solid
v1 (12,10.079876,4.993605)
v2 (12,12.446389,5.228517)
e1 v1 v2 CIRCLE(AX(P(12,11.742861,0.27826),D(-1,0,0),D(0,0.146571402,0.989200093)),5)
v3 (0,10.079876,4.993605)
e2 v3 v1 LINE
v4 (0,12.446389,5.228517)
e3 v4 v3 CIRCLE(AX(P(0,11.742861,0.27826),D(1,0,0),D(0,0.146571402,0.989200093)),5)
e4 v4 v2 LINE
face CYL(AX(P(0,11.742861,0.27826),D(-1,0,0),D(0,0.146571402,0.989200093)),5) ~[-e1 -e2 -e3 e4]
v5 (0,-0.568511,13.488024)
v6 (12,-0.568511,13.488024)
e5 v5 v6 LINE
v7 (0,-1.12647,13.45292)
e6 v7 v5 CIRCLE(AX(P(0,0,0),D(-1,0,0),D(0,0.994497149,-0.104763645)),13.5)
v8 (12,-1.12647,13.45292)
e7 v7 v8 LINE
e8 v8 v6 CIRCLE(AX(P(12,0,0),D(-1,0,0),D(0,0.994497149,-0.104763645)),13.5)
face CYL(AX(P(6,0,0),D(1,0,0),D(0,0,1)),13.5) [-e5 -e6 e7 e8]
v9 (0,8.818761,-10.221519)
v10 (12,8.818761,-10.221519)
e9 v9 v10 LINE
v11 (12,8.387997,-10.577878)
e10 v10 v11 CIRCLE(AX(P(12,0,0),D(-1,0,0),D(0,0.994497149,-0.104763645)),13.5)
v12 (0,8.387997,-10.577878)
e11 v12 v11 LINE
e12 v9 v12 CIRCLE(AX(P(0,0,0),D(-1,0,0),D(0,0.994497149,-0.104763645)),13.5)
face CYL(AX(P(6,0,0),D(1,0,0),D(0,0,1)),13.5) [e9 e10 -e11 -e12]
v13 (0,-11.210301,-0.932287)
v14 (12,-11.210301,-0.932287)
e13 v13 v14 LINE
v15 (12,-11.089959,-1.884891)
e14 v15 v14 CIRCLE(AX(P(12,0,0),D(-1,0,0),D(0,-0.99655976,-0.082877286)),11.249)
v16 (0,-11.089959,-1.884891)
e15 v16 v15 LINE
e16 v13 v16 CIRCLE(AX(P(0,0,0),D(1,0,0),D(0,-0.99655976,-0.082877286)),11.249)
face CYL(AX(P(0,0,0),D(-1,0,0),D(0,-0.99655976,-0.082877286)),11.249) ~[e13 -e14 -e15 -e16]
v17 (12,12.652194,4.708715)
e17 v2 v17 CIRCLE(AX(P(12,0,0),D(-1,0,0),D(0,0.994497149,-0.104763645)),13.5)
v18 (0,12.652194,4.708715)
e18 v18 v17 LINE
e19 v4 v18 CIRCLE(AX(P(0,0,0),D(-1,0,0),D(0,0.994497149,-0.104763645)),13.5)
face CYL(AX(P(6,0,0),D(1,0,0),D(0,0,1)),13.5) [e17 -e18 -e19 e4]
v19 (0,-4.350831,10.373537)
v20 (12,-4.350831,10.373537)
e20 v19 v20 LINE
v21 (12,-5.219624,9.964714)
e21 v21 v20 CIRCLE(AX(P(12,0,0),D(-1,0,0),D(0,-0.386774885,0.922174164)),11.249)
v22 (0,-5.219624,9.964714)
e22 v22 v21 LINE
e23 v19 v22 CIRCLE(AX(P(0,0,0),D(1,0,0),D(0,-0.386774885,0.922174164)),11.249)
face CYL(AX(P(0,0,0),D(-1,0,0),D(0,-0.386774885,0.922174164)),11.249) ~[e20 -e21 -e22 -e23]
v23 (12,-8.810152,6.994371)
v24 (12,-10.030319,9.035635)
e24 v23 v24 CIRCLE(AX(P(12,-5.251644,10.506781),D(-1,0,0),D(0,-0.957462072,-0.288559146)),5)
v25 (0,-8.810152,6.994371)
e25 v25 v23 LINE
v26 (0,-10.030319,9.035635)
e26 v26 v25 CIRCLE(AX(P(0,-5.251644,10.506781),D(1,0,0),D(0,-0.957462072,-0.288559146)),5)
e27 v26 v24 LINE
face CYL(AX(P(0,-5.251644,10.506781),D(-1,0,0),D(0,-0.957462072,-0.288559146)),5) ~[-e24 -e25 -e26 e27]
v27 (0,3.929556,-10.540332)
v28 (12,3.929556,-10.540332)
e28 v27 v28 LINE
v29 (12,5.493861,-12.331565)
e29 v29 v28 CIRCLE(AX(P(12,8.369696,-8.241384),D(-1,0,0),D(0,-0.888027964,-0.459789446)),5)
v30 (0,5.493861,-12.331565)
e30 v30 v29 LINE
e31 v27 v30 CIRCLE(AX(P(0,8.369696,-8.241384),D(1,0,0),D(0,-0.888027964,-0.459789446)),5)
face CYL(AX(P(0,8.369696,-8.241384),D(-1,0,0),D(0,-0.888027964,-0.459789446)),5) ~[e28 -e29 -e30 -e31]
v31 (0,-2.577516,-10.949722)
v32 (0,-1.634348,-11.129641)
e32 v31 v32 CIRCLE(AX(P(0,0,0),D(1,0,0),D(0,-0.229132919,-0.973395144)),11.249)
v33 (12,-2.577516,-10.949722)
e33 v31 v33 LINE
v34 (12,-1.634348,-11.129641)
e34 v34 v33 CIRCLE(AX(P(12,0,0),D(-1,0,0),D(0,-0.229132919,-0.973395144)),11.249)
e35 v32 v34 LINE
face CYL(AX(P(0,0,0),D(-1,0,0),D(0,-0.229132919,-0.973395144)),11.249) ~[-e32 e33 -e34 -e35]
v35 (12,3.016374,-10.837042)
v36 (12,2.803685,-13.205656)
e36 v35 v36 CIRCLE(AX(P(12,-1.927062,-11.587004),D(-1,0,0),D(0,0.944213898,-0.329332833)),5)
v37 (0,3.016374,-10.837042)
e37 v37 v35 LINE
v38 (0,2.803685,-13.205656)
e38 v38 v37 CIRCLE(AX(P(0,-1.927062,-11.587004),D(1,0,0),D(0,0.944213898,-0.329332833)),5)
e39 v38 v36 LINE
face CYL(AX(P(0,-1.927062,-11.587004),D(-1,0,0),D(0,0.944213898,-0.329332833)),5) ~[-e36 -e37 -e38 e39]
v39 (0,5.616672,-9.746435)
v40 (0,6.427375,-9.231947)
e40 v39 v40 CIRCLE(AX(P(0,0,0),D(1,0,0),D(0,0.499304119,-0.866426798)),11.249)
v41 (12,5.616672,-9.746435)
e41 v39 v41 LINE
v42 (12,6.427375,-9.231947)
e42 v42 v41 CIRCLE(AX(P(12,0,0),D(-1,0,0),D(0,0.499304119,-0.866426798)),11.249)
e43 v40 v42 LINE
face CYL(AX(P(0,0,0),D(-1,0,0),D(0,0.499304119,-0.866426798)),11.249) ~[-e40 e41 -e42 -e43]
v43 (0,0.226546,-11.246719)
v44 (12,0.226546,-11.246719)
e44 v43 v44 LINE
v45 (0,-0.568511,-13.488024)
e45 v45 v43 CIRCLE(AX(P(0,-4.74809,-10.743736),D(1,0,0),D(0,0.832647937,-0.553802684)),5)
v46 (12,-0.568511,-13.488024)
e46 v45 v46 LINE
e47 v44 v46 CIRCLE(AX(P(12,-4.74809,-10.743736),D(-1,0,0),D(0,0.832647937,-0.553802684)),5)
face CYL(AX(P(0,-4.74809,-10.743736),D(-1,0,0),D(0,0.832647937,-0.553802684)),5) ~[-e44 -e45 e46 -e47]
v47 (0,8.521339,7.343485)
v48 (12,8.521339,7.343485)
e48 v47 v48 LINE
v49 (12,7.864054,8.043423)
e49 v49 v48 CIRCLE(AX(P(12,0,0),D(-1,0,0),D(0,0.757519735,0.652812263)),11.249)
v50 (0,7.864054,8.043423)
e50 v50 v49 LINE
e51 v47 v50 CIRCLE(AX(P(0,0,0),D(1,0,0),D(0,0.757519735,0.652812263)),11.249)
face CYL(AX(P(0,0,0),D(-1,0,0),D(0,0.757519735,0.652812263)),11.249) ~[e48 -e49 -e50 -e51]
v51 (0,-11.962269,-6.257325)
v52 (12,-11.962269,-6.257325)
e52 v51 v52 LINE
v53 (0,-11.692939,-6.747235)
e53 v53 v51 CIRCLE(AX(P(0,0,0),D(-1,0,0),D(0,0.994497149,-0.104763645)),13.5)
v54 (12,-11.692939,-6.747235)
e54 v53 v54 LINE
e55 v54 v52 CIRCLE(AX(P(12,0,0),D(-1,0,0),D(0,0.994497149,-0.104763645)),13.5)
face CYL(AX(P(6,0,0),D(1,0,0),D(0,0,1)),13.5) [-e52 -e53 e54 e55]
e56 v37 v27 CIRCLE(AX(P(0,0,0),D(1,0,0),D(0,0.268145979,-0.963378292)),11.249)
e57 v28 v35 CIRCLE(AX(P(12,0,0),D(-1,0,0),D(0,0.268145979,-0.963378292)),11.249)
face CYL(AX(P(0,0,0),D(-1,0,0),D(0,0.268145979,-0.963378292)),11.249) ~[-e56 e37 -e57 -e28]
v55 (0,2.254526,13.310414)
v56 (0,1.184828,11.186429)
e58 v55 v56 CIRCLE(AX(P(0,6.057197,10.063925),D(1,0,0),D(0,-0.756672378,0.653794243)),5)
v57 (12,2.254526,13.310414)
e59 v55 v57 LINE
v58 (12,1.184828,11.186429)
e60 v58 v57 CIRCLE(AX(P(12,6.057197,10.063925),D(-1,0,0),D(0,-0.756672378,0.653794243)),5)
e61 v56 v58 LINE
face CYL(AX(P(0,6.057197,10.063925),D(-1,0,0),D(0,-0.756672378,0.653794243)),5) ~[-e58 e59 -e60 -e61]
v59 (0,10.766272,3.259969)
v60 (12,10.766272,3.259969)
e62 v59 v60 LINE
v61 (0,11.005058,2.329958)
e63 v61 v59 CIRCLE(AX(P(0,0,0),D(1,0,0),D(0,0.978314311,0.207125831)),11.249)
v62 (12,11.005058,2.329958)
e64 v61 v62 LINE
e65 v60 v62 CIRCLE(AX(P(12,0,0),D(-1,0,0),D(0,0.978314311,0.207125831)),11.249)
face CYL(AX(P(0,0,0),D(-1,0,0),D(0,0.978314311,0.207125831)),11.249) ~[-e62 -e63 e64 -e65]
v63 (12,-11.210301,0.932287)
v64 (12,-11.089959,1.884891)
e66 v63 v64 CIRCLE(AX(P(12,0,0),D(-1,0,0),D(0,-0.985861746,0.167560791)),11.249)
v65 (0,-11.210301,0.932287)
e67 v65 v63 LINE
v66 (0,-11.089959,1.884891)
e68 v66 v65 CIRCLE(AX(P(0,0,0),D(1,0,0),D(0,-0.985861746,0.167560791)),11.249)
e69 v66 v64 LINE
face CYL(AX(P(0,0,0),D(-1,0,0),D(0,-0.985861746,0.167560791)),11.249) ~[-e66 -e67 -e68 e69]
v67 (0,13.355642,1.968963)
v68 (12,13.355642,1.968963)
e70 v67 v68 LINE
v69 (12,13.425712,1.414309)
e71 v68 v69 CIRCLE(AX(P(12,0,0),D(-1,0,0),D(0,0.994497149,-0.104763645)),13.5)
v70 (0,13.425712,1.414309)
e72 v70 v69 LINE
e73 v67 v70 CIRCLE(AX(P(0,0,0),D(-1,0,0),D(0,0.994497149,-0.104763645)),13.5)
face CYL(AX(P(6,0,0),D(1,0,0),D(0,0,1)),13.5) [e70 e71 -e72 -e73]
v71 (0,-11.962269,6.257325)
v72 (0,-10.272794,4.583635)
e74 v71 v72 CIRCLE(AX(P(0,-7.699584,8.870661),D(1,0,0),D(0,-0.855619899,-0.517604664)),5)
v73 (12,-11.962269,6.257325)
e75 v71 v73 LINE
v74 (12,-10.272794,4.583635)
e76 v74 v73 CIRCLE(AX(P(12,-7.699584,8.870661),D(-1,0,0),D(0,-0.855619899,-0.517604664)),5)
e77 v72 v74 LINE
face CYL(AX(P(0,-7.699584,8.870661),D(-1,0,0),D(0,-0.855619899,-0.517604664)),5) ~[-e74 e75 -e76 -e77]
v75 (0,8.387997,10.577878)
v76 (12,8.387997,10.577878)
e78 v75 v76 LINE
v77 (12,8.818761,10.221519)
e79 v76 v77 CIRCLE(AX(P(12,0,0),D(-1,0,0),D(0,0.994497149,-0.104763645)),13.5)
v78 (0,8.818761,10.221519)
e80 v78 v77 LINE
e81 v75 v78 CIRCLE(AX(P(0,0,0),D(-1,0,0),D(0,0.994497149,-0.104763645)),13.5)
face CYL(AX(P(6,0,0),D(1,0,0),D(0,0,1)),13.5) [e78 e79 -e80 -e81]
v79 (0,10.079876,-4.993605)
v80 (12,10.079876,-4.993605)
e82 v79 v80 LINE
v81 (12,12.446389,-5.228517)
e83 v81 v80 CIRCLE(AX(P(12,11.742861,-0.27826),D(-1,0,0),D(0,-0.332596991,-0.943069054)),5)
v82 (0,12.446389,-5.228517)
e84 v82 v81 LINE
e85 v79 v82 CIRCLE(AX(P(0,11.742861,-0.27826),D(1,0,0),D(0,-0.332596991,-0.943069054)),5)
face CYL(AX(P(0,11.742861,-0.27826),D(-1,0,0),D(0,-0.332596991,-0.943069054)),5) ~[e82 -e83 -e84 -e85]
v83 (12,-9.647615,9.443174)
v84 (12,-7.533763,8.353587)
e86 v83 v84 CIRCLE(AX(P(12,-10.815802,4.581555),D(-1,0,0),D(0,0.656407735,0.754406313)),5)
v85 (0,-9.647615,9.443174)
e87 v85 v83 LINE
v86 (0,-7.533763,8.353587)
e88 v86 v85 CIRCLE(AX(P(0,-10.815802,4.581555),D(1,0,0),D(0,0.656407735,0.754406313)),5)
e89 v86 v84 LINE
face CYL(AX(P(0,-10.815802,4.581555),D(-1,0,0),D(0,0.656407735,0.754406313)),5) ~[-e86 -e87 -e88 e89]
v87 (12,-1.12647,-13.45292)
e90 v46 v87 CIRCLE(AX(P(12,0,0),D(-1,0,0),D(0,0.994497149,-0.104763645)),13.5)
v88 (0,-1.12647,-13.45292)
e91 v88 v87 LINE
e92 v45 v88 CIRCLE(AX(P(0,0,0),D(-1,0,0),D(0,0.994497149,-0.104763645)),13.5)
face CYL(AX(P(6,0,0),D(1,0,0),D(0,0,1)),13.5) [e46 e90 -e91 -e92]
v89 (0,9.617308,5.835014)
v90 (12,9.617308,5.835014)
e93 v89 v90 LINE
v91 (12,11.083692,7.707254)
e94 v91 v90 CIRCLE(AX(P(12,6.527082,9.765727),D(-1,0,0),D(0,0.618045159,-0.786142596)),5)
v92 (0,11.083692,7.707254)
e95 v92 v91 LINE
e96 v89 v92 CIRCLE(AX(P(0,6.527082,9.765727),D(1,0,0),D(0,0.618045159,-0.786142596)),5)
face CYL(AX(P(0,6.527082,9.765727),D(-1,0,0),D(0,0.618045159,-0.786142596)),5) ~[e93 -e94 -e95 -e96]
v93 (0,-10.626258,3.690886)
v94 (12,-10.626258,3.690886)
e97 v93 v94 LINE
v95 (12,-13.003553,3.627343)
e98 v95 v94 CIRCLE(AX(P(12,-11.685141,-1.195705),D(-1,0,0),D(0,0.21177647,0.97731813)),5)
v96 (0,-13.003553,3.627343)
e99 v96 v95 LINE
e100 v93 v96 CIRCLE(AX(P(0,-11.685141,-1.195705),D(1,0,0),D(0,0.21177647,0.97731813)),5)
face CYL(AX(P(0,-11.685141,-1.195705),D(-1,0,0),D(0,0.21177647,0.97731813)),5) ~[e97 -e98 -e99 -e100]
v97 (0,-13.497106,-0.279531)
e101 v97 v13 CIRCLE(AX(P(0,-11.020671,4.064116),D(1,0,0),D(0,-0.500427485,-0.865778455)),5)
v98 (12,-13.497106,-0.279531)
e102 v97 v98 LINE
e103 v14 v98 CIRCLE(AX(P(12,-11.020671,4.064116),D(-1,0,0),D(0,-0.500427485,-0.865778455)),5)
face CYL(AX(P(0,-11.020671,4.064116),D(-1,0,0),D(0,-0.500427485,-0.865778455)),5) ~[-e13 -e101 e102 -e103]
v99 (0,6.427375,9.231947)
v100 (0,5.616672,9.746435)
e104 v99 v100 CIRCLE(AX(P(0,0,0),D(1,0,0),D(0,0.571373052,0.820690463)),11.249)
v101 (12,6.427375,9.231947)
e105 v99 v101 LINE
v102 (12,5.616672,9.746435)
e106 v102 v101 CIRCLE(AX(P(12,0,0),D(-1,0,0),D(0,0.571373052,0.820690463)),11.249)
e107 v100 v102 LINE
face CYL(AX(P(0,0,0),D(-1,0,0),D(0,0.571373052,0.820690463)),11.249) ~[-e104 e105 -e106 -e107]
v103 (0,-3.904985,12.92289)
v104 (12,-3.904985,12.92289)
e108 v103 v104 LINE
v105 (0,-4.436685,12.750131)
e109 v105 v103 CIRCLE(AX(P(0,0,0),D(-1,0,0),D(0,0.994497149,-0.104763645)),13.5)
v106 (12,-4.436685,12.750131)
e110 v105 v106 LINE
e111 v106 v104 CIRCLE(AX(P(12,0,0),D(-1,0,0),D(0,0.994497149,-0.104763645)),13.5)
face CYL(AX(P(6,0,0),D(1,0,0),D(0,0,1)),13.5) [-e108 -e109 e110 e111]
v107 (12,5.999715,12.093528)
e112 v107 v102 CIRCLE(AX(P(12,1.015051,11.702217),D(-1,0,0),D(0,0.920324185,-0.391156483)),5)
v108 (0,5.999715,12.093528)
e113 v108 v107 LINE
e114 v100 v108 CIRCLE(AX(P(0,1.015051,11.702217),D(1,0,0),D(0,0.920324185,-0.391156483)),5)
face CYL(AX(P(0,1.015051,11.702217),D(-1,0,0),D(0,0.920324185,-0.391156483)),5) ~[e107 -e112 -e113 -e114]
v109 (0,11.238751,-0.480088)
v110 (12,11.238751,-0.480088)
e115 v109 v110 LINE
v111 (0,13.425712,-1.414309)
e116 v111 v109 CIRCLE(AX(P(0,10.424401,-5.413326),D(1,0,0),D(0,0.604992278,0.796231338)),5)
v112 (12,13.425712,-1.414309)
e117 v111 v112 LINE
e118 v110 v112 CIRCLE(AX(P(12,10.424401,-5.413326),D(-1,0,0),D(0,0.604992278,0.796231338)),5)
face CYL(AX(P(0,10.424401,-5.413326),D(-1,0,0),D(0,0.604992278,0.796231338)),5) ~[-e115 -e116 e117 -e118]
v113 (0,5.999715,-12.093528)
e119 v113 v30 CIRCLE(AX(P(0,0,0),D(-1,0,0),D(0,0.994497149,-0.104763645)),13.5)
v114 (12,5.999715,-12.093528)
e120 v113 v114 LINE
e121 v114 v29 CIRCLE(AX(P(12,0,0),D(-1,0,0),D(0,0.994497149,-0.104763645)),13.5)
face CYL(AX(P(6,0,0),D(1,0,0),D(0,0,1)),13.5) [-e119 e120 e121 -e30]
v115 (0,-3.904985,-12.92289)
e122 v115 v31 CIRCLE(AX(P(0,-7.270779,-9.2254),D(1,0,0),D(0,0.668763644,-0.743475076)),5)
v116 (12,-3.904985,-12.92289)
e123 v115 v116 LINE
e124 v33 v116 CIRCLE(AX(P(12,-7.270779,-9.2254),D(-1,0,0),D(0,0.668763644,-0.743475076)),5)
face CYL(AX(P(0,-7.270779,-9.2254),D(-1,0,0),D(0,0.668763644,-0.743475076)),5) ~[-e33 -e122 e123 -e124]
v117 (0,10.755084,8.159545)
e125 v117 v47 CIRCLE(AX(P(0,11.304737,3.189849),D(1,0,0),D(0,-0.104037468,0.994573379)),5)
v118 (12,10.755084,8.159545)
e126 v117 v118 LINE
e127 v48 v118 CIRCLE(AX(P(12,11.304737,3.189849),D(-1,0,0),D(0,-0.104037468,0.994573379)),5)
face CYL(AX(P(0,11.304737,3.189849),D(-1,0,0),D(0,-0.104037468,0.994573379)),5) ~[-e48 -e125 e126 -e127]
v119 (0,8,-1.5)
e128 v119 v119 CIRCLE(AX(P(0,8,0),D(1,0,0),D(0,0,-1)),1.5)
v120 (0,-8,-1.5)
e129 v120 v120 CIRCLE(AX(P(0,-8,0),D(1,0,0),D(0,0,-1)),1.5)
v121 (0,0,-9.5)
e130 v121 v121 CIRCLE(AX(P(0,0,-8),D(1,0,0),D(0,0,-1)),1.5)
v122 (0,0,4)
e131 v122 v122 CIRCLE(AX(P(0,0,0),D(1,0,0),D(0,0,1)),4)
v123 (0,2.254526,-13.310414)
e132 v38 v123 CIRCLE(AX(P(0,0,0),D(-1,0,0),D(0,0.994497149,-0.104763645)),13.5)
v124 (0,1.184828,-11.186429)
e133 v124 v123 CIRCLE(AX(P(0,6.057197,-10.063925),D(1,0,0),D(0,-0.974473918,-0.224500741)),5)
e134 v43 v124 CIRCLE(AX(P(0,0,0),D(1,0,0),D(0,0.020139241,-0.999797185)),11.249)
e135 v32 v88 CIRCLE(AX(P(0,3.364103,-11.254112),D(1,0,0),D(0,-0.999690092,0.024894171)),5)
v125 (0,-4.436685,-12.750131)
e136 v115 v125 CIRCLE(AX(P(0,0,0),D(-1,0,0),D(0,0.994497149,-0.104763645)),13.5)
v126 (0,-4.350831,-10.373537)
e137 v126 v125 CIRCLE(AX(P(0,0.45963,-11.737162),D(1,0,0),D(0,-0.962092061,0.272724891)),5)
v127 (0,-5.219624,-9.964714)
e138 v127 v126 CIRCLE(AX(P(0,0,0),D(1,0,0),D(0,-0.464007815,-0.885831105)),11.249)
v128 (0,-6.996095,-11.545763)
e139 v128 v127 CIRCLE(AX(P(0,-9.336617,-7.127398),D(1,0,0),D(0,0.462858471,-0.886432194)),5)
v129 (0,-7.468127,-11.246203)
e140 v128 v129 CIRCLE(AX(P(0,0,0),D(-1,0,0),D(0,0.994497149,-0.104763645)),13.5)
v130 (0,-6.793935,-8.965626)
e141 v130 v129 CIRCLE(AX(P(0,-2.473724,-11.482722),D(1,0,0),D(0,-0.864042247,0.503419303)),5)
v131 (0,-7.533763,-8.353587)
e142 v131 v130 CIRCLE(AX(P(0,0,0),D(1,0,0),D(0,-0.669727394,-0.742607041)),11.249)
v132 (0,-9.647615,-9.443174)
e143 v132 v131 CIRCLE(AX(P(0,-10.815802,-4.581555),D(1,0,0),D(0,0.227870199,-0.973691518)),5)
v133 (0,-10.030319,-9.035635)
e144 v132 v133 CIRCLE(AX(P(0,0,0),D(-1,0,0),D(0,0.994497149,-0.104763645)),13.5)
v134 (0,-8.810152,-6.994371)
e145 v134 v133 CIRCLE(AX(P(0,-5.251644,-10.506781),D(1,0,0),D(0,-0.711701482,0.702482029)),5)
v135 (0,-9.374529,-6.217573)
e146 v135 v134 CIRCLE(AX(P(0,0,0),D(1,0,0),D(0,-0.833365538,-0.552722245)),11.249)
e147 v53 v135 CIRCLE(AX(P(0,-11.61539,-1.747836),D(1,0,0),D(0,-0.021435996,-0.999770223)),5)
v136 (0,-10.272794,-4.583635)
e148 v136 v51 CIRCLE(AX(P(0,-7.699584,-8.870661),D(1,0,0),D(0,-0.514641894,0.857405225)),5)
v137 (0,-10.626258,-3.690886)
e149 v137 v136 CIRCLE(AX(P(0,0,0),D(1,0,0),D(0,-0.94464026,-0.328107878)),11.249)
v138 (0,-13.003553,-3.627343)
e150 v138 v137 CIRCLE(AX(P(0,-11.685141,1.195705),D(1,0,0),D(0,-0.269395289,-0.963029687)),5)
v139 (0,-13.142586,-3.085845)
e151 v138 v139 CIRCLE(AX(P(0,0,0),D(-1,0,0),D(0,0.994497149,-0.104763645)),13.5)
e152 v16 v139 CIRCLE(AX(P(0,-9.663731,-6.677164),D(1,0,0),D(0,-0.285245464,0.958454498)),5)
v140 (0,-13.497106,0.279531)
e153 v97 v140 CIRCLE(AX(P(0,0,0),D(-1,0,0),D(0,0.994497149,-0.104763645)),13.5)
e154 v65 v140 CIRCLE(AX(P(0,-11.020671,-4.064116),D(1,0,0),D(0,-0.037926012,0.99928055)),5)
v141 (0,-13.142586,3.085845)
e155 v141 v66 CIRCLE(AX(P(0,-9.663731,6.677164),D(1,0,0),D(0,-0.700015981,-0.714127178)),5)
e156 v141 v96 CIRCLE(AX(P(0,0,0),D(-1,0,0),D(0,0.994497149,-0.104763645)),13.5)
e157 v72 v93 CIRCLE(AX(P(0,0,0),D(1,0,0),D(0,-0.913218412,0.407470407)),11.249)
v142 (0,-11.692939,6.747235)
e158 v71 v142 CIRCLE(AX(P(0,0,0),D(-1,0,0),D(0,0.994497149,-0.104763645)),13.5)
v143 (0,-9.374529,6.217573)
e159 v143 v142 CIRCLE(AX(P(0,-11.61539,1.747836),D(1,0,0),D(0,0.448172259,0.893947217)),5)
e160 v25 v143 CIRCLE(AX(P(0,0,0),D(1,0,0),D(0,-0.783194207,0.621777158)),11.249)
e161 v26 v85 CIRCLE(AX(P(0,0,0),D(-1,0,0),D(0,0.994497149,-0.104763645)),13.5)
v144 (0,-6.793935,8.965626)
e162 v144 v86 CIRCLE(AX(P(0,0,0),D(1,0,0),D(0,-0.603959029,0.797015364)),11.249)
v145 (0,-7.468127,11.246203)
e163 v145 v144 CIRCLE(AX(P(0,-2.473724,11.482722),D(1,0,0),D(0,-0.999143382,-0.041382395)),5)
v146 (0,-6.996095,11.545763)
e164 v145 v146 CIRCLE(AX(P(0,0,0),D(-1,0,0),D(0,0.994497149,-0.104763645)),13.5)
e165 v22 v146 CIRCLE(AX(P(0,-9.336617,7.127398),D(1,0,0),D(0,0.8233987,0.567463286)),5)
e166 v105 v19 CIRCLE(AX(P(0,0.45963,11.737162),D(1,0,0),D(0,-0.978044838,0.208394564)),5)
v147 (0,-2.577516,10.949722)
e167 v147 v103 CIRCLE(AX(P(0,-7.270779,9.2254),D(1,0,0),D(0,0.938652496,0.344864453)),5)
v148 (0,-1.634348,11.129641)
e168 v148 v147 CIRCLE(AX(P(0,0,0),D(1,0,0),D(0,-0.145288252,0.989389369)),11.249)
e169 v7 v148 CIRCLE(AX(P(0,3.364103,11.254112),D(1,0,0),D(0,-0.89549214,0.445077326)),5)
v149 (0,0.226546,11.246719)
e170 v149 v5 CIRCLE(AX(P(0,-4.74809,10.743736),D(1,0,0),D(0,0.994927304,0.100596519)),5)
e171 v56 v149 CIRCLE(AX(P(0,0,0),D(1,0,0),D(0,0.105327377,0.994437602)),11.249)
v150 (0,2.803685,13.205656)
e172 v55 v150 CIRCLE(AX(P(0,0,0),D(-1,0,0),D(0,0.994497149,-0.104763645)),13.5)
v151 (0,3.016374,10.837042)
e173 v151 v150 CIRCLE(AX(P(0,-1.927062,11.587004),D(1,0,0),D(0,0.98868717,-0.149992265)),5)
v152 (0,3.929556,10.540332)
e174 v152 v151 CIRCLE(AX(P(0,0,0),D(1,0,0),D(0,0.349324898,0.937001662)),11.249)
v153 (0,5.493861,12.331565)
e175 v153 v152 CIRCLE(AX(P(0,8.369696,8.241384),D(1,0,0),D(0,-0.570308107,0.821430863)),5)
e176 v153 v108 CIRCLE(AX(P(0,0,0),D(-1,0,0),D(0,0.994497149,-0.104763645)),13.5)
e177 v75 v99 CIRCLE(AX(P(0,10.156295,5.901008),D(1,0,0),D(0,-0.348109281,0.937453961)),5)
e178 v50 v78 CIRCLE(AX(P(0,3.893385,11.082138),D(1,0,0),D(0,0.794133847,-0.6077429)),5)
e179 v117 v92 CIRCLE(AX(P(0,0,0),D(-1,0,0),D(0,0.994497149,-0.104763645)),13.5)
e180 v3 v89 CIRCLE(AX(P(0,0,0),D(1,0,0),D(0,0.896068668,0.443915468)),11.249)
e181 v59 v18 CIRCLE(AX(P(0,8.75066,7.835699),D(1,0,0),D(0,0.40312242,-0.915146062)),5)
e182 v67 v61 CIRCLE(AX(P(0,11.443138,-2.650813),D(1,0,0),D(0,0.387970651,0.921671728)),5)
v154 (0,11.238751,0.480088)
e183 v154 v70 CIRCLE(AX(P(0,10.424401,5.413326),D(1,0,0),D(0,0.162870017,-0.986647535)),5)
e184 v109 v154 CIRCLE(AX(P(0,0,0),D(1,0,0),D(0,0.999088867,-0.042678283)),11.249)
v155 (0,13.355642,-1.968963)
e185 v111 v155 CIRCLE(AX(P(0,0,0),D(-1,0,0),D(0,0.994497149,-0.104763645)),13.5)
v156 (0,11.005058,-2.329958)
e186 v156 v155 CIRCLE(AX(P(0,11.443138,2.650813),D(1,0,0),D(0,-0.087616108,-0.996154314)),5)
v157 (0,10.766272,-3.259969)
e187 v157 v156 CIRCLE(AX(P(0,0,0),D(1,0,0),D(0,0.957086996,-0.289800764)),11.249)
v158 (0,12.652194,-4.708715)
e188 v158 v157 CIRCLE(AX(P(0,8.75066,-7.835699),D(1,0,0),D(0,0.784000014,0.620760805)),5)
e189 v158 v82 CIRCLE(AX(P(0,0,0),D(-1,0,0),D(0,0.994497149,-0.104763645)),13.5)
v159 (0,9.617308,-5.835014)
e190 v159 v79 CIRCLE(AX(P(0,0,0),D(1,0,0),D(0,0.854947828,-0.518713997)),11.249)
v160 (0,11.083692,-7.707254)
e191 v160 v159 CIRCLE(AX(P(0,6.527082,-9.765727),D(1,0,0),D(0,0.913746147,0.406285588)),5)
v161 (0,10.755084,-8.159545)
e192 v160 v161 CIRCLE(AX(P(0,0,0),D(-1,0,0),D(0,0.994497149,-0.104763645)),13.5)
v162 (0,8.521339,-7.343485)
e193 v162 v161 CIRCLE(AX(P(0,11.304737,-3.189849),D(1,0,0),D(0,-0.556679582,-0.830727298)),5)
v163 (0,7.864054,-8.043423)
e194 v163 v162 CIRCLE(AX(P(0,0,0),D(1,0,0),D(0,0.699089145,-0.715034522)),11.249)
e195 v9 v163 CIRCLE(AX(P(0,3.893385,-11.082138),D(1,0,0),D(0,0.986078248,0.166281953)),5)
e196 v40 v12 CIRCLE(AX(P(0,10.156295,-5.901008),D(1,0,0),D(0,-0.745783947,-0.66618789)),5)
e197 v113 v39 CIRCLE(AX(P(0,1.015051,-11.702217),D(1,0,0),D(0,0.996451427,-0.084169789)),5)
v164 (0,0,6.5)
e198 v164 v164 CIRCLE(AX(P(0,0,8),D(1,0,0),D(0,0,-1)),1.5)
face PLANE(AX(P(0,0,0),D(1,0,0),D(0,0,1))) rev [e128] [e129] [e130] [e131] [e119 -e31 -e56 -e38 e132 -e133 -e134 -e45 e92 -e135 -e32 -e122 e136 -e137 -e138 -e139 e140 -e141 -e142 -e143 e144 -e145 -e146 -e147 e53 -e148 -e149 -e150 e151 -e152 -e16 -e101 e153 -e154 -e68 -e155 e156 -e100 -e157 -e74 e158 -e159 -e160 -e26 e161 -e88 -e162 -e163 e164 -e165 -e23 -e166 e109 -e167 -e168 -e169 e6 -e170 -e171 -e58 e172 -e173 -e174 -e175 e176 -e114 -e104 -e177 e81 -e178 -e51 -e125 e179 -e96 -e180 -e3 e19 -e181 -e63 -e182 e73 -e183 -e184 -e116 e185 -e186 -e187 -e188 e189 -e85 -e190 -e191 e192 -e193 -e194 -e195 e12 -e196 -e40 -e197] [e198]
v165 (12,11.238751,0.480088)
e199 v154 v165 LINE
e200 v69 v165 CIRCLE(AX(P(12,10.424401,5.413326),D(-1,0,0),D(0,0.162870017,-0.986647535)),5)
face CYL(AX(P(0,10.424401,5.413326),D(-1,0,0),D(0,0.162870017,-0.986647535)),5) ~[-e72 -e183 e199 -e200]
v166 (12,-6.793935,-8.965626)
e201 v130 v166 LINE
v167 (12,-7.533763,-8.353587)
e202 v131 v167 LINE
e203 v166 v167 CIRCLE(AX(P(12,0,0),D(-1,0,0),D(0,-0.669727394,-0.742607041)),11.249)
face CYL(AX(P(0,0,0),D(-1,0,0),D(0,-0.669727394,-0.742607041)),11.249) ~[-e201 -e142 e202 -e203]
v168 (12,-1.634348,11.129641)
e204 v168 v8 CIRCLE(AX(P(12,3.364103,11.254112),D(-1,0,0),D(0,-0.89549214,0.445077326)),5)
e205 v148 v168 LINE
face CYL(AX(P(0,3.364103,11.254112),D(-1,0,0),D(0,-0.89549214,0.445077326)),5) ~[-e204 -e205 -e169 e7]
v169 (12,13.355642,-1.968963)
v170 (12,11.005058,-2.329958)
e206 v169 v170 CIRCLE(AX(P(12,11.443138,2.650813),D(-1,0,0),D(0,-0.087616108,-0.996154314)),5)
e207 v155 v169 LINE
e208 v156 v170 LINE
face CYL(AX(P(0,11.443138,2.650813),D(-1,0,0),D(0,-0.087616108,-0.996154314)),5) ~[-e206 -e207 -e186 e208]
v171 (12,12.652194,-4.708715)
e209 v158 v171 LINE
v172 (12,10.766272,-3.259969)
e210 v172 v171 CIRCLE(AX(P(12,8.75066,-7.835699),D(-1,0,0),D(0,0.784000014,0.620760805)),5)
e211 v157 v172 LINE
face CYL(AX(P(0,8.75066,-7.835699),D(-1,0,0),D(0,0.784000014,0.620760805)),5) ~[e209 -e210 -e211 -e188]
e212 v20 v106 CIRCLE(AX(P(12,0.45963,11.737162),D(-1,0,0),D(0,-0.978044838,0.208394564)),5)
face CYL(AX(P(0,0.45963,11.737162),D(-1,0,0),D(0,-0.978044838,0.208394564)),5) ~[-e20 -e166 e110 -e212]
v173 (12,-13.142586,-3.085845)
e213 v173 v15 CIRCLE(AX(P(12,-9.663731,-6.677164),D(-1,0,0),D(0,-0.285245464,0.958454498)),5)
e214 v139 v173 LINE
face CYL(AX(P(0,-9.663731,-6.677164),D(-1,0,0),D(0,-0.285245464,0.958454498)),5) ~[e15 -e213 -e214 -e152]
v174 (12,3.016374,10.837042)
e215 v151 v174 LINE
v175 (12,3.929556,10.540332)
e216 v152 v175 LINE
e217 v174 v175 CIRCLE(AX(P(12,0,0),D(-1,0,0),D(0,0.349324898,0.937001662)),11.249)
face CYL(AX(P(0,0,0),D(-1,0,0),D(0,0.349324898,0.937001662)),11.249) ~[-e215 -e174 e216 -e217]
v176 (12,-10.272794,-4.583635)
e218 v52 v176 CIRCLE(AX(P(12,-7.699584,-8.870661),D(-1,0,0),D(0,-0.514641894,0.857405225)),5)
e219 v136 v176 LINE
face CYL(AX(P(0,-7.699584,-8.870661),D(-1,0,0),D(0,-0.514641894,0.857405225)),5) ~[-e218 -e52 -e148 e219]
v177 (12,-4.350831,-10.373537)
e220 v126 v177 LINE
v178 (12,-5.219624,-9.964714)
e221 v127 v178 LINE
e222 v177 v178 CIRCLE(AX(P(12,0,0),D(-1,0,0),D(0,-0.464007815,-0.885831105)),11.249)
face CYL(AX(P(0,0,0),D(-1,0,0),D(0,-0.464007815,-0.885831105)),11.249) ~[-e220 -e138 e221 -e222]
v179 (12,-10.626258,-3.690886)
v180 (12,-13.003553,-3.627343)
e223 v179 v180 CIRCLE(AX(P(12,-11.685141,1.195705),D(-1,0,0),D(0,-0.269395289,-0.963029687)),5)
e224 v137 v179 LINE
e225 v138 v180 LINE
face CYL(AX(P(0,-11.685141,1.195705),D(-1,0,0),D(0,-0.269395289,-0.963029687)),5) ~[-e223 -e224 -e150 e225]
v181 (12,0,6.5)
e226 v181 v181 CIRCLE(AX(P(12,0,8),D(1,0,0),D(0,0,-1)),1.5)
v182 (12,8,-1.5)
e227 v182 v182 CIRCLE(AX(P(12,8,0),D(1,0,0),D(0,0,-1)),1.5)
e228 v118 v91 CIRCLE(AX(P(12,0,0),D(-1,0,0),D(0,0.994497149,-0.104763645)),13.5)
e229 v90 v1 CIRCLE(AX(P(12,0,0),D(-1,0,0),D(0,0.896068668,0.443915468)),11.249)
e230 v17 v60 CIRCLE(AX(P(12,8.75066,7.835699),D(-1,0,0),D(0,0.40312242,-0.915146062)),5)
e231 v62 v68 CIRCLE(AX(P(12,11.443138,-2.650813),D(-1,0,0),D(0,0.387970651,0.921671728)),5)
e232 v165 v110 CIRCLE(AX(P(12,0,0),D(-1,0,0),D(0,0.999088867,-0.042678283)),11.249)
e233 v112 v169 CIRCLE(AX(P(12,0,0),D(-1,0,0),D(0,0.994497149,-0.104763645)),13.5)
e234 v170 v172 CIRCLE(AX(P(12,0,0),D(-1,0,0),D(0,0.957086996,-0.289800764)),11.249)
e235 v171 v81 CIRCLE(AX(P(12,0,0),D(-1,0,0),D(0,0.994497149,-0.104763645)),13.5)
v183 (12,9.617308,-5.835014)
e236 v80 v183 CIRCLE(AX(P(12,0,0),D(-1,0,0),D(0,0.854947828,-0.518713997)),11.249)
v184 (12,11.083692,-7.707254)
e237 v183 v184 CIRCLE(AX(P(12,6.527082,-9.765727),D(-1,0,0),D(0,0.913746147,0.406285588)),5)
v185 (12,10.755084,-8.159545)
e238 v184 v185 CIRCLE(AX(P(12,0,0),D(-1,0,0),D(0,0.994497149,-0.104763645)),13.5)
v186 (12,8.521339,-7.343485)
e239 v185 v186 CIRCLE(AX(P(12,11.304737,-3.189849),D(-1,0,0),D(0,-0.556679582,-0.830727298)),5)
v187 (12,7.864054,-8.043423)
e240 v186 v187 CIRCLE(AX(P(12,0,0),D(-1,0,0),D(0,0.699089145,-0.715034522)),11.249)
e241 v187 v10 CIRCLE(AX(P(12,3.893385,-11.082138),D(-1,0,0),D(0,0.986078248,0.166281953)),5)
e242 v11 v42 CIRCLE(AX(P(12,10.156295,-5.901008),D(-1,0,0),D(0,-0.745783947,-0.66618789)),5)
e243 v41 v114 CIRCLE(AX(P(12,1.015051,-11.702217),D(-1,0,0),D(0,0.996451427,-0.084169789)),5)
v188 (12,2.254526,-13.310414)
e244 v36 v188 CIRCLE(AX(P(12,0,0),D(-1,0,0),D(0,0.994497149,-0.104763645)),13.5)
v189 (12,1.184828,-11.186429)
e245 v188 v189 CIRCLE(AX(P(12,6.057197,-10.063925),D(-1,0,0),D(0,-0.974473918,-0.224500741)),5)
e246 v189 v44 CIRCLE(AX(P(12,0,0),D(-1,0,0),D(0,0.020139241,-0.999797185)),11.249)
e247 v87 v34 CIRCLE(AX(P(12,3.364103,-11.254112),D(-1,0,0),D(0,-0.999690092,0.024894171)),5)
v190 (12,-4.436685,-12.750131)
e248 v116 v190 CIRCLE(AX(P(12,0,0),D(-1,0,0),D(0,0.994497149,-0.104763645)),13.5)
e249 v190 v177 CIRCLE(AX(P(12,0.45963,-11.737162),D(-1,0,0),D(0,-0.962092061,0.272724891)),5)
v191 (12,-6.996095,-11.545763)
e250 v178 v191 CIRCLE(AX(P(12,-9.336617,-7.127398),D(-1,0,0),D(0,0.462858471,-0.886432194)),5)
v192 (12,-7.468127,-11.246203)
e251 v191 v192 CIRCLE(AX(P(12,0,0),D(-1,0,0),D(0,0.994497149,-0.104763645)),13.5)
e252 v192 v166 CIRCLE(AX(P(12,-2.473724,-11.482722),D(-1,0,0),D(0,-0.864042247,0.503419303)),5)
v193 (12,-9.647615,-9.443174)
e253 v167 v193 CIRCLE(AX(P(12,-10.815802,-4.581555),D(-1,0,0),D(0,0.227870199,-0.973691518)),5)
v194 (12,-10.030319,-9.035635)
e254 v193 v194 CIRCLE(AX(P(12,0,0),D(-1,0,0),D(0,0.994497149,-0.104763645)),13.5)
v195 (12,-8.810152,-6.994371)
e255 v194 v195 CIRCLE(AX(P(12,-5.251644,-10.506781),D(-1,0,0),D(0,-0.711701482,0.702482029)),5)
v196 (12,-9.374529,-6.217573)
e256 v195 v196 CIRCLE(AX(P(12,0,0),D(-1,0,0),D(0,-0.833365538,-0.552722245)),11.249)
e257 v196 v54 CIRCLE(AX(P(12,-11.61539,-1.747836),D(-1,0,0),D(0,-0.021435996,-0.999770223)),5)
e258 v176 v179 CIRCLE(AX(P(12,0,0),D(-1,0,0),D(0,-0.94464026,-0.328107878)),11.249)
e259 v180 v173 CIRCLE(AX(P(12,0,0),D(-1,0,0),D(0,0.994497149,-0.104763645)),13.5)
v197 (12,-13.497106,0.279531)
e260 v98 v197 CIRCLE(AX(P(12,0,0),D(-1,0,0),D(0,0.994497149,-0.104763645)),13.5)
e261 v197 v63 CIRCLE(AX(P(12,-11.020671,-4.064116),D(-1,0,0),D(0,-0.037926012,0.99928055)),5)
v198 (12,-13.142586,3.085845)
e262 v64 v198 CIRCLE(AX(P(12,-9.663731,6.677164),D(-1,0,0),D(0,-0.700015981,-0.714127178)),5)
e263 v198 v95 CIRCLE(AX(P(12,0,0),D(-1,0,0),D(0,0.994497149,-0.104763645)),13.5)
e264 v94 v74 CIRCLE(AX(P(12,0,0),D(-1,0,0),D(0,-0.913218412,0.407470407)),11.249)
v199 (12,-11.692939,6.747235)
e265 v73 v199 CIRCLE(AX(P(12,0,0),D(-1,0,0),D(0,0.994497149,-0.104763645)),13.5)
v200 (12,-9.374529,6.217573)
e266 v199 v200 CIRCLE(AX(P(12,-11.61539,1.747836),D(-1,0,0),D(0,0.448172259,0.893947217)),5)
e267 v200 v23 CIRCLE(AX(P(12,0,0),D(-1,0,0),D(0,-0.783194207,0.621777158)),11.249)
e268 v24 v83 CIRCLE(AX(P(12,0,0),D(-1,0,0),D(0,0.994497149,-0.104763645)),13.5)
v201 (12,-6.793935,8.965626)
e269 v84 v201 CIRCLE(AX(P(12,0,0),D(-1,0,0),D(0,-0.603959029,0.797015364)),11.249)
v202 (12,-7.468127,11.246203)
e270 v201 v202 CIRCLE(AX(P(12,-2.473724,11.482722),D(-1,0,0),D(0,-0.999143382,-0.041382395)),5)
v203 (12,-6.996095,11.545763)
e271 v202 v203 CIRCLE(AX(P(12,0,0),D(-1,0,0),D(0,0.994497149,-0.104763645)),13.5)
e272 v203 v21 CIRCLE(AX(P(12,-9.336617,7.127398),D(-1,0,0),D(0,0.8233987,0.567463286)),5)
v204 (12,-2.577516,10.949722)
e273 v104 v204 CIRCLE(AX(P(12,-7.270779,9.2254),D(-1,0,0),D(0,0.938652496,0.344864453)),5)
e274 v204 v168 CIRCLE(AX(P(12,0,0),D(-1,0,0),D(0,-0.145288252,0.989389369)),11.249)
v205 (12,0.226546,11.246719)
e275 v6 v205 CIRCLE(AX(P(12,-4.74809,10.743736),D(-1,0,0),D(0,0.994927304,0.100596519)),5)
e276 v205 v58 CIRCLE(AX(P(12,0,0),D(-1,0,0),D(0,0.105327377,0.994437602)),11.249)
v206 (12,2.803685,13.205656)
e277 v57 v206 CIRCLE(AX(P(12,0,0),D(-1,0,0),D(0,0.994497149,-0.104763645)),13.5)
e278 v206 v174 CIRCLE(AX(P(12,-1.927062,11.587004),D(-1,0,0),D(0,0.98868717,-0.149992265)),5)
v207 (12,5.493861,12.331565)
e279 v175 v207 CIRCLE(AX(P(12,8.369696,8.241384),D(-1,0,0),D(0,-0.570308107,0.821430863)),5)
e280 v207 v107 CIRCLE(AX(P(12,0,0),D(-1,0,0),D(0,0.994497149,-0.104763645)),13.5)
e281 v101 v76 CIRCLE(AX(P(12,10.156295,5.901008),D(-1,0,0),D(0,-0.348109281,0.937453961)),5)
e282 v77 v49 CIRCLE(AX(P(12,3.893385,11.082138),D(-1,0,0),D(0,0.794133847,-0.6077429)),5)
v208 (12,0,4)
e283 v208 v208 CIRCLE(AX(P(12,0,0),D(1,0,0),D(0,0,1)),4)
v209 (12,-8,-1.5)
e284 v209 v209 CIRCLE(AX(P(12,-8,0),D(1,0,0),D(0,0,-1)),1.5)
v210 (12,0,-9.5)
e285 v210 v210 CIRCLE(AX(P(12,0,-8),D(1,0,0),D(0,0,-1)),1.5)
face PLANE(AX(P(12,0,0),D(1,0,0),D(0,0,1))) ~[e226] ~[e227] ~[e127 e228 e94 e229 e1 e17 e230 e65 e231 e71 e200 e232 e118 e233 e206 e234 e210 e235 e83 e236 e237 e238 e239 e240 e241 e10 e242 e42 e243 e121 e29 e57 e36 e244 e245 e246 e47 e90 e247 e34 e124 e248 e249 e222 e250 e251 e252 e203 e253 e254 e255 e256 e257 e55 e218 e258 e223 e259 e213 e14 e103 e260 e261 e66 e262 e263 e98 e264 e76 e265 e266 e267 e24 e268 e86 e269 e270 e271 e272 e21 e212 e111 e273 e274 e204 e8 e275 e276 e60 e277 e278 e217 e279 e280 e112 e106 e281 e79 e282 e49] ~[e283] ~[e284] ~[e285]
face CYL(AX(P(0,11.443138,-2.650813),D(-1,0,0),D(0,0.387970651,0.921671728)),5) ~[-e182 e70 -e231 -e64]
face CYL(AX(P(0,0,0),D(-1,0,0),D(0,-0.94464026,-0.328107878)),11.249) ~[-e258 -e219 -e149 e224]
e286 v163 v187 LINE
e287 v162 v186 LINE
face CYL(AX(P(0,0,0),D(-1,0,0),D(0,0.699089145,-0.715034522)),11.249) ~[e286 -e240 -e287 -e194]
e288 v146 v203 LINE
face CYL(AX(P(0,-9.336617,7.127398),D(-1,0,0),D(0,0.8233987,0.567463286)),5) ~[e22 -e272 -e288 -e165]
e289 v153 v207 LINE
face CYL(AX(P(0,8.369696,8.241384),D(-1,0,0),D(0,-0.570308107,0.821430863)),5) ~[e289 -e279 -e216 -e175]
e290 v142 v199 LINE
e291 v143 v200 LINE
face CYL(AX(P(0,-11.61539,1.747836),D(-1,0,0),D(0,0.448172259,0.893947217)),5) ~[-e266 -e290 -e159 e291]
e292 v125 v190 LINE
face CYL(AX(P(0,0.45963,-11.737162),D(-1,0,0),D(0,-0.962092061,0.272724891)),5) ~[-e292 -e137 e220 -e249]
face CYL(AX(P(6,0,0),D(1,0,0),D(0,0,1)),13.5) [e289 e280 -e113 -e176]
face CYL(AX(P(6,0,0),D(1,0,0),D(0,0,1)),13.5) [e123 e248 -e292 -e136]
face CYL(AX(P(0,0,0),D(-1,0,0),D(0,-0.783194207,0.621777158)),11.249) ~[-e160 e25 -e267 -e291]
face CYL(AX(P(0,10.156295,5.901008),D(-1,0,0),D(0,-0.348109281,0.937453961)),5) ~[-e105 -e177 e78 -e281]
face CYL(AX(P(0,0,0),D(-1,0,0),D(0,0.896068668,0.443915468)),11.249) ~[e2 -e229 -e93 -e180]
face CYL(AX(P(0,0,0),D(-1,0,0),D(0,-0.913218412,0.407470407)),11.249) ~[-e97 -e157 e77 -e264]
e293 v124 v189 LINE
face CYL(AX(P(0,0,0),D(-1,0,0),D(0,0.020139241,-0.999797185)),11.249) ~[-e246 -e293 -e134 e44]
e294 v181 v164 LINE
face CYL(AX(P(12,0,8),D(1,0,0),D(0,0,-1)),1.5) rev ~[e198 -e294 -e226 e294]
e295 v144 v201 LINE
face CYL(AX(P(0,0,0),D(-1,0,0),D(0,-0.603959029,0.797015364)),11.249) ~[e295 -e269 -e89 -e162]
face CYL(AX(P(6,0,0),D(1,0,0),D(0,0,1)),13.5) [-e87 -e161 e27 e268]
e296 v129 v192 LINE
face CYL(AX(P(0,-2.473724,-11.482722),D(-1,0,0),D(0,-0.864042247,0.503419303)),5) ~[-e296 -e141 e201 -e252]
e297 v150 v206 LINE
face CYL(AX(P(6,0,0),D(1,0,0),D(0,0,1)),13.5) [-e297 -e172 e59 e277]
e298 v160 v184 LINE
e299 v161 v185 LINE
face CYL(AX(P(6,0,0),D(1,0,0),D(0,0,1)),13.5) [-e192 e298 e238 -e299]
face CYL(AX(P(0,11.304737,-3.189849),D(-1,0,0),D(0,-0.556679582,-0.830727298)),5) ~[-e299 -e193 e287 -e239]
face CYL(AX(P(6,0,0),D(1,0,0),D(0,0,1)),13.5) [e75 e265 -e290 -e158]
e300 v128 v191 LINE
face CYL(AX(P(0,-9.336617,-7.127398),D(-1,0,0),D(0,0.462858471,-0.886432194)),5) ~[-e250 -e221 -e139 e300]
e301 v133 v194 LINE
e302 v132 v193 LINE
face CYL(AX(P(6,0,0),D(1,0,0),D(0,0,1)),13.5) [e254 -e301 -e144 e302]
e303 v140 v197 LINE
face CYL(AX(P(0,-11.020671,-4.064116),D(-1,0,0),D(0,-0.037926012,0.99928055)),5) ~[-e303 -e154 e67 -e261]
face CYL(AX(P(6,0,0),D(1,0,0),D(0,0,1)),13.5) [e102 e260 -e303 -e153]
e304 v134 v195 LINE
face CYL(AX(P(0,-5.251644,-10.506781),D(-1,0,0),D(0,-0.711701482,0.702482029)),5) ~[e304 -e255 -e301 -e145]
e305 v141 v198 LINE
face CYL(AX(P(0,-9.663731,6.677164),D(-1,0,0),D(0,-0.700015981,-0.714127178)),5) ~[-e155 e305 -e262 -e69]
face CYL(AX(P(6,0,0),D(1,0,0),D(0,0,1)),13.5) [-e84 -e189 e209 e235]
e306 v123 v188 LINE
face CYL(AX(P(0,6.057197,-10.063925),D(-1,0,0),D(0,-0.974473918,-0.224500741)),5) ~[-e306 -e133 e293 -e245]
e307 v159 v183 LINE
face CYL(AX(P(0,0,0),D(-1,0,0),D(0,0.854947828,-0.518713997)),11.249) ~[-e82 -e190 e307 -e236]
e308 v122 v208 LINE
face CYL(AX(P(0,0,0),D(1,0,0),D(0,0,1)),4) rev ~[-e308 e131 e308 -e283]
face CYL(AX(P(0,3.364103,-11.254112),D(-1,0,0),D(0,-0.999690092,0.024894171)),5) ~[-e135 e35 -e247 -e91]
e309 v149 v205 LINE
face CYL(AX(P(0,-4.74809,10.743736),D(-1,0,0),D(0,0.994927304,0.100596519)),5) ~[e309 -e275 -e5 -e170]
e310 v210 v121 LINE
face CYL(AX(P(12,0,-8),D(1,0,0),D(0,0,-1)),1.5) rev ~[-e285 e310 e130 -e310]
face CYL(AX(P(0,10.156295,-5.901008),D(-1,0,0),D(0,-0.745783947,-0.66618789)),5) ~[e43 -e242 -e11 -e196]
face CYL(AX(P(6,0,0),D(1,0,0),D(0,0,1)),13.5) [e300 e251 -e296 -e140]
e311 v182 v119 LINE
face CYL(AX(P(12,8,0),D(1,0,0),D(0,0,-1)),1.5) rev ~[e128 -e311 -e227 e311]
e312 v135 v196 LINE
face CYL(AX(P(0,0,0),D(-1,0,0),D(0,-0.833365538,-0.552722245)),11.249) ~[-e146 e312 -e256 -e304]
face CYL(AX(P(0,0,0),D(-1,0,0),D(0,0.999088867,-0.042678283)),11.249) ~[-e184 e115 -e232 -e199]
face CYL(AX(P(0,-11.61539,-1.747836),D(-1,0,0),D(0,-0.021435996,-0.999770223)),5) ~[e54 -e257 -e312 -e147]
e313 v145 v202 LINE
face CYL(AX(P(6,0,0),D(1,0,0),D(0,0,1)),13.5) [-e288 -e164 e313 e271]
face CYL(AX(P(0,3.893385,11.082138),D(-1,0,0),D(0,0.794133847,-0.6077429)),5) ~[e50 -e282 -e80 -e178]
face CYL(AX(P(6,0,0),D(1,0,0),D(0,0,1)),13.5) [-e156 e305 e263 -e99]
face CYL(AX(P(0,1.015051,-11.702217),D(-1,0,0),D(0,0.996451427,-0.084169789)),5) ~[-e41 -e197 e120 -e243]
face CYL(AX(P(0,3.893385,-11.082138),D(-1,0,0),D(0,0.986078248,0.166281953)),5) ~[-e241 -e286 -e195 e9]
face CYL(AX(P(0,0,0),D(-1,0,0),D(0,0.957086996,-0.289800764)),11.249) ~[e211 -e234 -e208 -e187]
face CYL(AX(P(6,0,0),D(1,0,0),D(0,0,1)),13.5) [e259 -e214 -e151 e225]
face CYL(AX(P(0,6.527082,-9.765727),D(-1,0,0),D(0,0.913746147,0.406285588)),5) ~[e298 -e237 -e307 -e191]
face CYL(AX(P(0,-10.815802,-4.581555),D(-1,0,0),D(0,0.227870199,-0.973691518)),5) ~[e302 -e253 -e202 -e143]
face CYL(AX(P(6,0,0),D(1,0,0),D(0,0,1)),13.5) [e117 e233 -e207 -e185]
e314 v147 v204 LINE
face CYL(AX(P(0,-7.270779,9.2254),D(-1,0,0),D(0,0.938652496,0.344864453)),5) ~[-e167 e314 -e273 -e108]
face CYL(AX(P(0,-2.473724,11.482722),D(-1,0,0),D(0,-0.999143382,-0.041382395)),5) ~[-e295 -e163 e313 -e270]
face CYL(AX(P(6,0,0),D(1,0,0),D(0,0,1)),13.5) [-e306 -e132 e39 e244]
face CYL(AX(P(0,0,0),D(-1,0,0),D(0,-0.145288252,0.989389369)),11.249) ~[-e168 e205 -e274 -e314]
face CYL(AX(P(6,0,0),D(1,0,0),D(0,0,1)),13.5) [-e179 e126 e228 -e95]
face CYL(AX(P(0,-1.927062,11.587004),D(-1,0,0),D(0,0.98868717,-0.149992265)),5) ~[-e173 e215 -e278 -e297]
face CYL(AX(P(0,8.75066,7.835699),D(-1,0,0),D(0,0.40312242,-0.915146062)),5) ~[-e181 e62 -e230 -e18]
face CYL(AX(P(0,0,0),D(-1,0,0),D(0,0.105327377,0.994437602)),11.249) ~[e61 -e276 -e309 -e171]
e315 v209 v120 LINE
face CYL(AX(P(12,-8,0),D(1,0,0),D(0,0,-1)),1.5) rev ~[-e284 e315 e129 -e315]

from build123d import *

# Parameters (mm, degrees)
BASPROSKE_W        = 12
BASPROSKE_H        = 13.5
TOOTHCUT_DEPTH     = 23.549944568
TEETHCUTS_COUNT    = 25
TEETHCUTS_ANGLE    = 345.6
BORSKE_R           = 4
BORE_DEPTH         = 50.0000508
SKETCH1_R          = 1.5
CUT_EXTRUDE1_DEPTH = 23.542777009


with BuildPart() as part:
    # BasProSke → Base-Revolve (revolve)
    with BuildSketch(Plane(origin=(0, 0, 0), x_dir=(1, 0, 0), z_dir=(0, 1, 0)), mode=Mode.PRIVATE) as base_revolve_sk:
        with Locations((6, 6.75)):
            Rectangle(BASPROSKE_W, BASPROSKE_H)
    revolve(base_revolve_sk.sketch.rotate(Axis((-10, 0, 0), (1, 0, 0)), 180), axis=Axis((-10, 0, 0), (1, 0, 0)))

    # TooCutSke → ToothCut (cut, through all)
    with BuildSketch(Plane(origin=(0, 0, 0), x_dir=(0, 0, -1), z_dir=(1, 0, 0))):
        with BuildLine():
            ThreePointArc((0.480087995, 11.238750665), (0, 11.249), (-0.480087995, 11.238750665))
            ThreePointArc((-0.480087995, 11.238750665), (-0.821124963, 12.40220054), (-1.432168974, 13.449361962))
            ThreePointArc((-1.432168974, 13.449361962), (0, 13.5254), (1.432168974, 13.449361962))
            ThreePointArc((1.432168974, 13.449361962), (0.821124963, 12.40220054), (0.480087995, 11.238750665))
        make_face()
    toothcut = extrude(amount=TOOTHCUT_DEPTH, mode=Mode.SUBTRACT)

    # TeethCuts: ToothCut ×25 about axis
    teethcuts_axis = Axis((-10, 0, 0), (1, 0, 0))
    for i in range(1, TEETHCUTS_COUNT):
        add(toothcut.rotate(teethcuts_axis, i * TEETHCUTS_ANGLE / (TEETHCUTS_COUNT - 1)), mode=Mode.SUBTRACT)

    # BorSke → Bore (cut, symmetric)
    with BuildSketch(Plane(origin=(0, 0, 0), x_dir=(0, 0, -1), z_dir=(1, 0, 0))):
        with Locations(Location((0, 0, 0), (0, 0, 180))):
            Circle(BORSKE_R)
    extrude(amount=BORE_DEPTH, both=True, mode=Mode.SUBTRACT)

    # Sketch1 → Cut-Extrude1 (cut, through all)
    with BuildSketch(Plane(origin=(12, 0, 0), x_dir=(0, 0, -1), z_dir=(1, 0, 0))):
        with Locations((0, 8)):
            Circle(SKETCH1_R)
        with Locations((8, 0)):
            Circle(SKETCH1_R)
        with Locations((0, -8)):
            Circle(SKETCH1_R)
        with Locations((-8, 0)):
            Circle(SKETCH1_R)
    extrude(amount=-CUT_EXTRUDE1_DEPTH, mode=Mode.SUBTRACT)


solid = part.part
